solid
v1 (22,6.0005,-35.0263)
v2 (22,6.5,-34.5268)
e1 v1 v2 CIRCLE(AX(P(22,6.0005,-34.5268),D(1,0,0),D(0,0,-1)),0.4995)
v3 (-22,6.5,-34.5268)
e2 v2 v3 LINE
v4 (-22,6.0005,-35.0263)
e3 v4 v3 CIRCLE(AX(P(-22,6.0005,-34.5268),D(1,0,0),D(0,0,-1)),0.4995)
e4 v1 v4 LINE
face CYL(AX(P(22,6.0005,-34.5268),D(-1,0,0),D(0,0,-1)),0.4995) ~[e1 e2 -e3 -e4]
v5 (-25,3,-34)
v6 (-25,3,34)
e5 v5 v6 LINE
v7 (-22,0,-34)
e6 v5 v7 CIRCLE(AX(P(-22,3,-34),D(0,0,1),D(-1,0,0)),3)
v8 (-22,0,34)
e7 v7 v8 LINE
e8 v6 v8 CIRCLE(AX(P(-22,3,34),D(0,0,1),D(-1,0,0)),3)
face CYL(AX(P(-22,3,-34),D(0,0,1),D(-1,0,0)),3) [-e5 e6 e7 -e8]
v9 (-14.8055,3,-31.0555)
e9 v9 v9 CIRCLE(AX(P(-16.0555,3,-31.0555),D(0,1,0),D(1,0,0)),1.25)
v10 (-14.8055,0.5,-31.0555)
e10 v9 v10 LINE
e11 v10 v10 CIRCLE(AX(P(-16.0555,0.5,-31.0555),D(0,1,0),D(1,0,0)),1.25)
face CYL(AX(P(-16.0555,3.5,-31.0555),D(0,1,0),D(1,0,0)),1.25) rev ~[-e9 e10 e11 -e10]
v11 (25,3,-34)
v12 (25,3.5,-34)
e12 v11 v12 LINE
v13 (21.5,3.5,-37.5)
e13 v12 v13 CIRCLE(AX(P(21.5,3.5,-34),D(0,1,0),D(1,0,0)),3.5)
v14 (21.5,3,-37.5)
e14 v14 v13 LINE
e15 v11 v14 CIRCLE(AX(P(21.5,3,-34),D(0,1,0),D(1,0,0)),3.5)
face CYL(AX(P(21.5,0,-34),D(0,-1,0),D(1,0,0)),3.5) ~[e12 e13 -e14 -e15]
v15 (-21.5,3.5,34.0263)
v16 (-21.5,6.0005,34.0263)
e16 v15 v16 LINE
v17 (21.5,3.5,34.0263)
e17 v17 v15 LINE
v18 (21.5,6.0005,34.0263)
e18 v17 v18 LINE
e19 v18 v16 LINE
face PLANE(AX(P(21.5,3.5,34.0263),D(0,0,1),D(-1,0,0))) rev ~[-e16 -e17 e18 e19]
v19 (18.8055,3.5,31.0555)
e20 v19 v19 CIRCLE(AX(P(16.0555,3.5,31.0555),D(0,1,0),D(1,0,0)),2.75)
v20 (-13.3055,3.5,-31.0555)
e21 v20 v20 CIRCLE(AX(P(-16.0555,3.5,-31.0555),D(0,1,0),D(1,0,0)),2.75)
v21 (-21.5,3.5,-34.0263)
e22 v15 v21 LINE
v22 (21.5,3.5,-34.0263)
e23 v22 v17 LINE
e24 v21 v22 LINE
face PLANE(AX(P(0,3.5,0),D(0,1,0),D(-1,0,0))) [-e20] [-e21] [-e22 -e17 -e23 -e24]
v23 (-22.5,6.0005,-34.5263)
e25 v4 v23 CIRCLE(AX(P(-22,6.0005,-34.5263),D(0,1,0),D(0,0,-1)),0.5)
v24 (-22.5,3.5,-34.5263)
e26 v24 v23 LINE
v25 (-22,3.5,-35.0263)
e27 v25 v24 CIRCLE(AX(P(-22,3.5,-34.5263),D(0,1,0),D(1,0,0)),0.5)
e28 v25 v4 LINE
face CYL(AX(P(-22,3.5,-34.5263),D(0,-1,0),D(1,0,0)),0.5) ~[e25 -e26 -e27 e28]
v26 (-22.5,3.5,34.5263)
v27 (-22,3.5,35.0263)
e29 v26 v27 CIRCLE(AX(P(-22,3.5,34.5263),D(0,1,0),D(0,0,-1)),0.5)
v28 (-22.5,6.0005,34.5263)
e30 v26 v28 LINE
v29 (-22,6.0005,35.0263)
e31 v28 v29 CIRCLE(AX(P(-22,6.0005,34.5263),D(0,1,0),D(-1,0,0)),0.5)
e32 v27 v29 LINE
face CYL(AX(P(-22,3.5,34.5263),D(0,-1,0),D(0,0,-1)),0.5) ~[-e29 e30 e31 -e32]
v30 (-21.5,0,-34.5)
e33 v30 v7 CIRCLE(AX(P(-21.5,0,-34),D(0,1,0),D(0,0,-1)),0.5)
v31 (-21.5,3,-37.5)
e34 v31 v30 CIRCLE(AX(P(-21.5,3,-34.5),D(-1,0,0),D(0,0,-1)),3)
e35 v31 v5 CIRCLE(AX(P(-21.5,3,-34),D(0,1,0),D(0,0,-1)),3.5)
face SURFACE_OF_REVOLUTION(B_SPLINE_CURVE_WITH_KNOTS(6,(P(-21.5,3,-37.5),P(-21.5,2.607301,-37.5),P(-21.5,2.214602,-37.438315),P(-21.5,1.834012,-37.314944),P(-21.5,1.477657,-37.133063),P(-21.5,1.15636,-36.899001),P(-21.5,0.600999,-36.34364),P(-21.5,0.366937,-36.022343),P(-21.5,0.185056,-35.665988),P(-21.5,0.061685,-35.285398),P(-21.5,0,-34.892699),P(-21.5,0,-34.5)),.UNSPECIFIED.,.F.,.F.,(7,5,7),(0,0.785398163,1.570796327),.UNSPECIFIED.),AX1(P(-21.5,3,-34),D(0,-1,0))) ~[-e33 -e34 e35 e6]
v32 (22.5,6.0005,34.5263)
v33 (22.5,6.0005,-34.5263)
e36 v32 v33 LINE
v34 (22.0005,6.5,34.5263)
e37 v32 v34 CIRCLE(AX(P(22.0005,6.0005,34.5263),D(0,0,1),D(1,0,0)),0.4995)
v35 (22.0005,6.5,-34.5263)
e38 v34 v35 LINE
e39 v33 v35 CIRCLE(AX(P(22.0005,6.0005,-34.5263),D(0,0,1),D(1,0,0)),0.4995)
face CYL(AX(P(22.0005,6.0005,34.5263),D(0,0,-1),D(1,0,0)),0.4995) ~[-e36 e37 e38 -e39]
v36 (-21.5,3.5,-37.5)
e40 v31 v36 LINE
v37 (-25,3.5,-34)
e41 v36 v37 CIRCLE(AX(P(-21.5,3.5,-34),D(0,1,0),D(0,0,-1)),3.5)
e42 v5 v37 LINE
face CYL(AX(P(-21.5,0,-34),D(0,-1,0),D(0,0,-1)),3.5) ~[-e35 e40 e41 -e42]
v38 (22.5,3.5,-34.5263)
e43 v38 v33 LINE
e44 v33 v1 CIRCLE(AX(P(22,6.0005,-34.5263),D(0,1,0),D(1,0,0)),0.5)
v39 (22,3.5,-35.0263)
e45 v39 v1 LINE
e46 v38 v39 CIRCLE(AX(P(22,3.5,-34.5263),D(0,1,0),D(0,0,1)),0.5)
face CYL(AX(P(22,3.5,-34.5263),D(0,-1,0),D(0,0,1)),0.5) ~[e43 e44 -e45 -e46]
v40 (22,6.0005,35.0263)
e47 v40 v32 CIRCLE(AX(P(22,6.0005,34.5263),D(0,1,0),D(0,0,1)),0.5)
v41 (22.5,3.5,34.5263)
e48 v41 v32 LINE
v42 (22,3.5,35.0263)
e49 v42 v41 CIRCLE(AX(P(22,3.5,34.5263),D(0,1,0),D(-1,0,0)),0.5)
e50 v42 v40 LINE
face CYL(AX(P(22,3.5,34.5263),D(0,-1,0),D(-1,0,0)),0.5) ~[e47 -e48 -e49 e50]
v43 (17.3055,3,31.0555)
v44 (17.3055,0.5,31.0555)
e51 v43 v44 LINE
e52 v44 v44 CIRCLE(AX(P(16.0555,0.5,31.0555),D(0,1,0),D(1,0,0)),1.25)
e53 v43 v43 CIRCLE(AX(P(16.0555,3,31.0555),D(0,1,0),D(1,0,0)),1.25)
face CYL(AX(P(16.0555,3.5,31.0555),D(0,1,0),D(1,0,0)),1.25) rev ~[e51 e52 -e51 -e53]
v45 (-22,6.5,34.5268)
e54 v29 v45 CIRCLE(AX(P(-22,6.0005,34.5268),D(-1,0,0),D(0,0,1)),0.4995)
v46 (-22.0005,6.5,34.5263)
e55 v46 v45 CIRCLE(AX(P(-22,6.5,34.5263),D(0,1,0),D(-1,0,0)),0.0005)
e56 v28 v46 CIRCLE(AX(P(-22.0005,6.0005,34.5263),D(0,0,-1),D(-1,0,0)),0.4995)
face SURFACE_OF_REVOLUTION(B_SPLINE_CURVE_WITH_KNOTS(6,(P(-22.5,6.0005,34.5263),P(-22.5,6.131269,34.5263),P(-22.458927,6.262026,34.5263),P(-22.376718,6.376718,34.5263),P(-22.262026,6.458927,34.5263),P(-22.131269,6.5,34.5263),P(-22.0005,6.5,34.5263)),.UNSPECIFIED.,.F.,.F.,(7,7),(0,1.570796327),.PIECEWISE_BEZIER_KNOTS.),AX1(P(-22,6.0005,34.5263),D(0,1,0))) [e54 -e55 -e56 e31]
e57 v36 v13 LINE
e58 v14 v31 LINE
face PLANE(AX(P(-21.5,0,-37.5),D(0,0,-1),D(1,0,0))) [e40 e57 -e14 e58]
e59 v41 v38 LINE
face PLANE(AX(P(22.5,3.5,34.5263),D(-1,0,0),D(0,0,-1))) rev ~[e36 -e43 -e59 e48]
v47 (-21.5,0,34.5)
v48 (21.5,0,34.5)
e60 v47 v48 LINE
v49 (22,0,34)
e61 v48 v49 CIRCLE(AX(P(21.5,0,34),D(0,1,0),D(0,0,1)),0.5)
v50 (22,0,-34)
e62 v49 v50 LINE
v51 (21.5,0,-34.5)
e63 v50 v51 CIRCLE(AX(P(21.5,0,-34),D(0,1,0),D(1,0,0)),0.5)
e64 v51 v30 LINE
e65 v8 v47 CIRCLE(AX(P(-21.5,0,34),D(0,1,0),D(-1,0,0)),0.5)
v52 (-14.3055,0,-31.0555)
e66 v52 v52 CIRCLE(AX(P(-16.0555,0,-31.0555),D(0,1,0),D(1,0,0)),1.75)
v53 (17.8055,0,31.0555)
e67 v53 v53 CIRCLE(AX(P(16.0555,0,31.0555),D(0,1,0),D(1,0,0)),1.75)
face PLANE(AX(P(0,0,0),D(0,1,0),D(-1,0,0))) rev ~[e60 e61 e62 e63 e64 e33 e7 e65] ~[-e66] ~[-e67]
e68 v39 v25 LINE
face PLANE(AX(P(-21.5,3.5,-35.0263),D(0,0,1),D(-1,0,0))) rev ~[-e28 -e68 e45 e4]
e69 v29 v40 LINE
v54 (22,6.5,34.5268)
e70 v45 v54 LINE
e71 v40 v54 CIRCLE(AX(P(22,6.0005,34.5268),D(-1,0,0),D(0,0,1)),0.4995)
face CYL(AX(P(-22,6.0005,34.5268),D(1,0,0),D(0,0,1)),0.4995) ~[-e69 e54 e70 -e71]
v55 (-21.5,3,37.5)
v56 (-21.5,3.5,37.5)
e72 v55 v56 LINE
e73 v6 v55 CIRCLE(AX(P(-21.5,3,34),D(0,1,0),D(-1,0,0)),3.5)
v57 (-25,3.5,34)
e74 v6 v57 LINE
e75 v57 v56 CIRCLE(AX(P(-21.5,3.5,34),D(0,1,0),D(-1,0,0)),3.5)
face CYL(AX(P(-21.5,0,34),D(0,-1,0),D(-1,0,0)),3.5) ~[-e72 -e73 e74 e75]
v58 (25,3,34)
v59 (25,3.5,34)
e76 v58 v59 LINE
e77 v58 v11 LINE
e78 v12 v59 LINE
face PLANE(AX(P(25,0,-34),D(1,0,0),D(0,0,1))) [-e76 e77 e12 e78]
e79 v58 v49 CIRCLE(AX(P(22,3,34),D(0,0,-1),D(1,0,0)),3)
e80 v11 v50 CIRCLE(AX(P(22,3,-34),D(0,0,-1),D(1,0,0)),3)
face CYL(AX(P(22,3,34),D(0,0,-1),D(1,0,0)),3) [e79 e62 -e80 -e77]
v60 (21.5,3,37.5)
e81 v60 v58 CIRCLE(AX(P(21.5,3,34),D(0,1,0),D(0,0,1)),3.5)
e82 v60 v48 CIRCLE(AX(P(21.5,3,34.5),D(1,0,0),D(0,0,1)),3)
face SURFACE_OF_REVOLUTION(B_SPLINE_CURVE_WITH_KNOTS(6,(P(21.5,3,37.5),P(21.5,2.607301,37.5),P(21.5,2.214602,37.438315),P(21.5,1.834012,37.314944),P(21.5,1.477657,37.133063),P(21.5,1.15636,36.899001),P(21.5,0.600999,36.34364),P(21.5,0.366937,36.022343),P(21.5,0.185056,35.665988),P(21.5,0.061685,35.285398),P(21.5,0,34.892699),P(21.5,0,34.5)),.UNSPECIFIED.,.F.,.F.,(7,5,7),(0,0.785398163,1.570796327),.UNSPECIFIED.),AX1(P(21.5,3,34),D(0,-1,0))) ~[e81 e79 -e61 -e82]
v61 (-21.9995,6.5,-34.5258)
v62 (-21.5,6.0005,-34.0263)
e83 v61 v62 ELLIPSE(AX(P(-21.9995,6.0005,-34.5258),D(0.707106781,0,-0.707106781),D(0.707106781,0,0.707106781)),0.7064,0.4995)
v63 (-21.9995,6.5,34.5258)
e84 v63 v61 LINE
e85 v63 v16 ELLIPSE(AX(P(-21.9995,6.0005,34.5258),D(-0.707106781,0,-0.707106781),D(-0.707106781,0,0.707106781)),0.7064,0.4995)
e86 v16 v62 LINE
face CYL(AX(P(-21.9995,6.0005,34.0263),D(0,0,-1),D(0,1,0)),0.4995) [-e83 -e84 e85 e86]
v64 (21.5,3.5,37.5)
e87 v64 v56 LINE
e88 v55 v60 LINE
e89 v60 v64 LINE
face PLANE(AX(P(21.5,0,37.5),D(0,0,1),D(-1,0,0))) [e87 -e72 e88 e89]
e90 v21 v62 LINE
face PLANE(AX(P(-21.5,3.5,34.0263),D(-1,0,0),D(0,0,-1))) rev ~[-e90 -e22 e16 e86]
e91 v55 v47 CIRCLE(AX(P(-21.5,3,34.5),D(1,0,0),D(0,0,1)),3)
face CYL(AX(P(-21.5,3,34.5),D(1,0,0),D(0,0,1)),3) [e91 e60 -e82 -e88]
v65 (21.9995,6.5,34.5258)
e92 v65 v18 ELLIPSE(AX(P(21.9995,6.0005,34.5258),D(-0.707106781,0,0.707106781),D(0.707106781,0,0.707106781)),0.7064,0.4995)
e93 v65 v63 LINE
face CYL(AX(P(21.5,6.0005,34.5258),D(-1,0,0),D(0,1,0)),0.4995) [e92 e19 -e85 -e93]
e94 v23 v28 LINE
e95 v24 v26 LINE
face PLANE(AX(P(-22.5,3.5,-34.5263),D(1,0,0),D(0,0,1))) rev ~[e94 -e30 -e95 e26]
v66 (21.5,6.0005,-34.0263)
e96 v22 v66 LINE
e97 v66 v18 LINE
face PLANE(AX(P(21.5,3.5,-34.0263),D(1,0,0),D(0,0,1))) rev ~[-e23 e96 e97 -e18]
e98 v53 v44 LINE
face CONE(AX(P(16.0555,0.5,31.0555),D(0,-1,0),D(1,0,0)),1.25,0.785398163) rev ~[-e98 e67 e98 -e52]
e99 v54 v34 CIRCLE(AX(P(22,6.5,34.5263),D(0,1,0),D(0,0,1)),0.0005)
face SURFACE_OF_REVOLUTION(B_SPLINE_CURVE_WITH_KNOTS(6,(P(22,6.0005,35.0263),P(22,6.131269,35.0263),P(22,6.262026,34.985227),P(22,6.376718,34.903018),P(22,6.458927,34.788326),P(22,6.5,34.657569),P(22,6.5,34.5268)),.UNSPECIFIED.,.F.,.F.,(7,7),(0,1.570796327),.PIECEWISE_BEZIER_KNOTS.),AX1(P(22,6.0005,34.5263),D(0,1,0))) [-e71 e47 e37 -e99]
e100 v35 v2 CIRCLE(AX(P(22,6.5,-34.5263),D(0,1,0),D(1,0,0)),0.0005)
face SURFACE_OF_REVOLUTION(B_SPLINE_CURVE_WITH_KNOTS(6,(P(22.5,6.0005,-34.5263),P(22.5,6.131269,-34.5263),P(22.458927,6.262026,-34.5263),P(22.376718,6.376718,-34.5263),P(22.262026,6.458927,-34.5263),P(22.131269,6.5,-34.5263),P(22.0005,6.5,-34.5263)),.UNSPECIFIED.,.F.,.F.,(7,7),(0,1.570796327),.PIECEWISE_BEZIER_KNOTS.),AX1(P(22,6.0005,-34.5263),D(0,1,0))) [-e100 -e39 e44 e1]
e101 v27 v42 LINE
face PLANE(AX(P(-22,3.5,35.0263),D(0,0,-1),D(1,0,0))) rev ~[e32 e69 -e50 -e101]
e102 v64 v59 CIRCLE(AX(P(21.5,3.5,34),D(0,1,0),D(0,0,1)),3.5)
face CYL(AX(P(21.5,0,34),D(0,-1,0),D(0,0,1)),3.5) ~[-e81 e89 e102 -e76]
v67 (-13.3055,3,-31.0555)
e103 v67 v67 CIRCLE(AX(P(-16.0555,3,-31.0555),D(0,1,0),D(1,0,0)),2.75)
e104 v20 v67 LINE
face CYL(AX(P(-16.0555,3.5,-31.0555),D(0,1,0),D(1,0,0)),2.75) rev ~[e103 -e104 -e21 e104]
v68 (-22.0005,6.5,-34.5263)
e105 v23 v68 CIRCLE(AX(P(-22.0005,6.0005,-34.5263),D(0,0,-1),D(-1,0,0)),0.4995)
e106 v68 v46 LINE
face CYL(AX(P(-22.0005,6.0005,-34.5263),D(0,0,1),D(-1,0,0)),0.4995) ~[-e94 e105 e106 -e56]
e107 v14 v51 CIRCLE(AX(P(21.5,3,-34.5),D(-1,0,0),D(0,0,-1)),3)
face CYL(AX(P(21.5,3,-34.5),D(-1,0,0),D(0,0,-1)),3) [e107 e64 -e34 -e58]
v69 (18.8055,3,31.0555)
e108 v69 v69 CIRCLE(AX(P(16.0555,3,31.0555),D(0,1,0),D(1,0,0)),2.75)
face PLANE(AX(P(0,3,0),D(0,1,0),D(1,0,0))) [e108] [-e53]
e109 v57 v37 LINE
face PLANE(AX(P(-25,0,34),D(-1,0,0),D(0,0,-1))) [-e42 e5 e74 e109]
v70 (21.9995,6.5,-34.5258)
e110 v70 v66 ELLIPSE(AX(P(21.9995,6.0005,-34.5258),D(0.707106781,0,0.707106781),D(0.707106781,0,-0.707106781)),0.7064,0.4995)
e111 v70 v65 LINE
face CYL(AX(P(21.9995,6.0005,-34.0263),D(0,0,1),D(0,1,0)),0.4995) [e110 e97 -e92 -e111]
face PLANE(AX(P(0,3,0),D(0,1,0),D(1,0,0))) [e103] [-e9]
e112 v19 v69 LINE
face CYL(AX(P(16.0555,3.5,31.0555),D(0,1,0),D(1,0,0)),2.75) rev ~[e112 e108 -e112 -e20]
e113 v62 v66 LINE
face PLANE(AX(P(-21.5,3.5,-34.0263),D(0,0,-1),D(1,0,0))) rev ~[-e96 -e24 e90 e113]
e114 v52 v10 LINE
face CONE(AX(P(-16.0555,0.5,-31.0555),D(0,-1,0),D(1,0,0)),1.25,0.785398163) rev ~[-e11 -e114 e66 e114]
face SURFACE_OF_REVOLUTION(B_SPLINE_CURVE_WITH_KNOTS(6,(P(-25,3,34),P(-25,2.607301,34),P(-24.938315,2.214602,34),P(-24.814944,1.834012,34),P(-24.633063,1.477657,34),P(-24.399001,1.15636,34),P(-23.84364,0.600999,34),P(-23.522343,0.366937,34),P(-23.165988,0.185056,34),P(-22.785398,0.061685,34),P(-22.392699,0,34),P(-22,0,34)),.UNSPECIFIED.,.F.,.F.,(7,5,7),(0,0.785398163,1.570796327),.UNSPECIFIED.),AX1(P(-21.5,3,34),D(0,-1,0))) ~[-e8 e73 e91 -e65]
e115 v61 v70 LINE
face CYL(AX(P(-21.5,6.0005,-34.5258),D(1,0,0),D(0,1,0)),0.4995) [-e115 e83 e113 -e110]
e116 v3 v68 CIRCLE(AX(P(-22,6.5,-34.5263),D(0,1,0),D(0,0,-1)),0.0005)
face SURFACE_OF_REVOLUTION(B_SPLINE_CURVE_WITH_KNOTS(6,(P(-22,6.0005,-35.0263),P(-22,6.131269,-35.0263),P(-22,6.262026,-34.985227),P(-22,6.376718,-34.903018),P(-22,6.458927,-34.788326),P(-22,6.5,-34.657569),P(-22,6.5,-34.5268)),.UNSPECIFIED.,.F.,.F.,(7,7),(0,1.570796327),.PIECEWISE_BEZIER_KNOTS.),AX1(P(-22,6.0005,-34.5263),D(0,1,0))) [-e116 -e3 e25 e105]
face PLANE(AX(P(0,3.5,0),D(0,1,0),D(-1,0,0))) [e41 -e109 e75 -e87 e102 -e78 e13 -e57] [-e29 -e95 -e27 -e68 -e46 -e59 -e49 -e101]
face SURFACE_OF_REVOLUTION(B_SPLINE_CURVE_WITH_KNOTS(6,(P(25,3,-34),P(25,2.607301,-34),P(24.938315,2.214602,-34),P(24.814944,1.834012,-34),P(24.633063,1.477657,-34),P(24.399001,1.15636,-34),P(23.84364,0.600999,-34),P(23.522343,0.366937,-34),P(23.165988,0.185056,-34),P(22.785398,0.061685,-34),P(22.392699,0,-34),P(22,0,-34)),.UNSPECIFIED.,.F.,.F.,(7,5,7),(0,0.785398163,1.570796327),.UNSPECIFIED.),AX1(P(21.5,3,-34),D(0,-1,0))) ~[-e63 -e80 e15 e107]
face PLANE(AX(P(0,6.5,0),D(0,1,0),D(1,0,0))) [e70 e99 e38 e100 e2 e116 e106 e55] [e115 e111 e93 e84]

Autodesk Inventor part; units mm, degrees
ref_plane "YZ Plane" through (0, 0, 0) normal (1, 0, 0) x (0, 1, 0)
ref_plane "XZ Plane" through (0, 0, 0) normal (0, 1, 0) x (-1, 0, 0)
ref_plane "XY Plane" through (0, 0, 0) normal (0, 0, 1) x (1, 0, 0)
sketch "Sketch1" plane through (0, 0, 0) normal (0, 1, 0) x (-1, 0, 0)
  line L0 (-25, 37.5) -> (25, 37.5)
  line L1 (25, 37.5) -> (25, -37.5)
  line L2 (25, -37.5) -> (-25, -37.5)
  line L3 (-25, -37.5) -> (-25, 37.5)
  line L4 (25, 37.5) -> (-25, -37.5) construction
  line L5 (-22.5, 35) -> (22.5, 35)
  line L6 (22.5, 35) -> (22.5, -35)
  line L7 (22.5, -35) -> (-22.5, -35)
  line L8 (-22.5, -35) -> (-22.5, 35)
  line L9 (22.5, 35) -> (-22.5, -35) construction
  line L10 (22.5, 35) -> (20, 35)
  line L11 (20, 35) -> (20, 32.5)
  line L12 (20, 32.5) -> (22.5, 32.5)
  line L13 (22.5, 32.5) -> (22.5, 35)
  arc A0 (22.5, 32.5) -> (20, 35) centre (20, 32.5) ccw
  line L14 (25, 37.5) -> (21.5, 37.5)
  line L15 (21.5, 37.5) -> (21.5, 34)
  line L16 (21.5, 34) -> (25, 34)
  line L17 (25, 34) -> (25, 37.5)
  line L18 (22.5, -35) -> (20, -35)
  line L19 (20, -35) -> (20, -32.5)
  line L20 (20, -32.5) -> (22.5, -32.5)
  line L21 (22.5, -32.5) -> (22.5, -35)
  line L22 (-22.5, -35) -> (-20, -35)
  line L23 (-20, -35) -> (-20, -32.5)
  line L24 (-20, -32.5) -> (-22.5, -32.5)
  line L25 (-22.5, -32.5) -> (-22.5, -35)
  line L26 (-22.5, 35) -> (-20, 35)
  line L27 (-20, 35) -> (-20, 32.5)
  line L28 (-20, 32.5) -> (-22.5, 32.5)
  line L29 (-22.5, 32.5) -> (-22.5, 35)
  arc A1 (-20, 35) -> (-22.5, 32.5) centre (-20, 32.5) ccw
  arc A2 (-22.5, -32.5) -> (-20, -35) centre (-20, -32.5) ccw
  arc A3 (20, -35) -> (22.5, -32.5) centre (20, -32.5) ccw
  arc A4 (25, 34) -> (21.5, 37.5) centre (21.5, 34) ccw
  line L30 (25, -37.5) -> (21.5, -37.5)
  line L31 (21.5, -37.5) -> (21.5, -34)
  line L32 (21.5, -34) -> (25, -34)
  line L33 (25, -34) -> (25, -37.5)
  line L34 (-25, -37.5) -> (-21.5, -37.5)
  line L35 (-21.5, -37.5) -> (-21.5, -34)
  line L36 (-21.5, -34) -> (-25, -34)
  line L37 (-25, -34) -> (-25, -37.5)
  line L38 (-25, 37.5) -> (-21.5, 37.5)
  line L39 (-21.5, 37.5) -> (-21.5, 34)
  line L40 (-21.5, 34) -> (-25, 34)
  line L41 (-25, 34) -> (-25, 37.5)
  arc A5 (-21.5, 37.5) -> (-25, 34) centre (-21.5, 34) ccw
  arc A6 (-25, -34) -> (-21.5, -37.5) centre (-21.5, -34) ccw
  arc A7 (21.5, -37.5) -> (25, -34) centre (21.5, -34) ccw
  point P0 (0, 0)
  point P1 (25, 34)
  point P2 (-25, -34)
  point P3 (-22.5, -32.5)
  point P4 (-22, -34)
  point P5 (-22.5, -34)
  point P6 (22.5, -32.5)
  dimension "d0" = 50
  dimension "d1" = 75
  dimension "d2" = 45
  dimension "d3" = 70
  dimension "d8" = 2.5
  dimension "d9" = 2.5
extrude "Extrusion3" add sketch "Sketch1" along normal blind 3.5 contours L0 L15 L5 L39 | L39 L5 L8 L40 A5 | L40 L8 L36 L3 | A4 L16 L6 L5 L15 | L39 A1 L40 L8 L5 | L5 A1 L39 | L36 L8 L7 L35 A6 | L40 A1 L8 | L15 A0 L5 | L5 L6 L16 A0 L15 | L1 L32 L6 L16 | L5 L11 L12 L6 L20 L19 L7 L23 L24 L8 L28 L27 | L27 L28 A1 L40 L39 | L39 L40 A1 | L36 A2 L35 L7 L8 | L8 A2 L36 | L35 L7 L31 L2 | A0 L15 L16 L12 L11 | A0 L16 L15 | A7 L31 L7 L6 L32 | L6 A0 L16 | L24 L23 A2 L35 L36 | L36 L35 A2 | L35 A2 L7 | L32 A3 L6 | L6 L7 L31 A3 L32 | L7 A3 L31 | A3 L32 L31 L19 L20 | A3 L31 L32
fillet "Fillet1" radius 3 8 edges at (-23.9749, 0, 36.4749) (0, 0, 37.5) (23.9749, 0, 36.4749) (25, 0, 0) (23.9749, 0, -36.4749) (0, 0, -37.5) (-23.9749, 0, -36.4749) (-25, 0, 0)
sketch "Sketch2" plane through (0, 3.5, 0) normal (0, 1, 0) x (1, 0, 0)
  arc A0 (20, 32.5) -> (17.5, 35) centre (17.5, 32.5) ccw projected
  line L0 (17.5, 35) -> (17.5, 33.5)
  line L1 (20, -32.5) -> (20, 32.5) projected
  line L2 (20, 32.5) -> (18.5, 32.5)
  line L3 (18.5, 32.5) -> (17.5, 33.5)
  line L4 (18, 33) -> (16.0555, 31.0555)
  circle A1 centre (16.0555, 31.0555) radius 2.75
  line L5 (-20, 32.5) -> (-20, -32.5) projected
  line L6 (-20, -32.5) -> (-18.5, -32.5)
  line L7 (-17.5, -35) -> (17.5, -35) projected
  line L8 (-17.5, -35) -> (-17.5, -33.5)
  line L9 (-17.5, -33.5) -> (-18.5, -32.5)
  line L10 (-18, -33) -> (-16.0555, -31.0555)
  line L11 (-18, -33) -> (-15.25, -33) construction
  circle A2 centre (-16.0555, -31.0555) radius 2.75
  arc A3 (17.5812, 28.7675) -> (18.8055, 31.0555) centre (16.0555, 31.0555) ccw construction
  arc A4 (17.8504, 28.3639) -> (19.2906, 31.0555) centre (16.0555, 31.0555) ccw
  arc A5 (17.3121, 29.1712) -> (18.3203, 31.0555) centre (16.0555, 31.0555) ccw
  arc A6 (17.3121, 29.1712) -> (17.8504, 28.3639) centre (17.5812, 28.7675) ccw
  arc A7 (19.2906, 31.0555) -> (18.3203, 31.0555) centre (18.8055, 31.0555) ccw
  arc A8 (14.2605, 33.747) -> (12.8203, 31.0555) centre (16.0555, 31.0555) ccw
  arc A9 (12.8203, 31.0555) -> (13.7906, 31.0555) centre (13.3055, 31.0555) ccw
  arc A10 (14.7989, 32.9398) -> (14.2605, 33.747) centre (14.5297, 33.3434) ccw
  arc A11 (14.7989, 32.9398) -> (13.7906, 31.0555) centre (16.0555, 31.0555) ccw
  arc A12 (-14.2605, -33.747) -> (-12.8203, -31.0555) centre (-16.0555, -31.0555) ccw
  arc A13 (-14.7989, -32.9398) -> (-13.7906, -31.0555) centre (-16.0555, -31.0555) ccw
  arc A14 (-14.7989, -32.9398) -> (-14.2605, -33.747) centre (-14.5297, -33.3434) ccw
  arc A15 (-12.8203, -31.0555) -> (-13.7906, -31.0555) centre (-13.3055, -31.0555) ccw
  arc A16 (-17.8504, -28.3639) -> (-19.2906, -31.0555) centre (-16.0555, -31.0555) ccw
  arc A17 (-19.2906, -31.0555) -> (-18.3203, -31.0555) centre (-18.8055, -31.0555) ccw
  arc A18 (-17.3121, -29.1712) -> (-17.8504, -28.3639) centre (-17.5812, -28.7675) ccw
  arc A19 (-17.3121, -29.1712) -> (-18.3203, -31.0555) centre (-16.0555, -31.0555) ccw
  line L12 (-19.2843, -34.2843) -> (-16.7157, -31.7157) construction
  line L13 (-18.86, -34.7085) -> (-16.2915, -32.14)
  line L14 (-17.14, -31.2915) -> (-19.7085, -33.86)
  arc A20 (-19.7085, -33.86) -> (-18.86, -34.7085) centre (-19.2843, -34.2843) ccw
  arc A21 (-16.2915, -32.14) -> (-17.14, -31.2915) centre (-16.7157, -31.7157) ccw
  line L15 (16.5205, 31.5205) -> (19.4795, 34.4795) construction
  line L16 (16.9448, 31.0962) -> (19.9038, 34.0552)
  line L17 (19.0552, 34.9038) -> (16.0962, 31.9448)
  arc A22 (16.0962, 31.9448) -> (16.9448, 31.0962) centre (16.5205, 31.5205) ccw
  arc A23 (19.9038, 34.0552) -> (19.0552, 34.9038) centre (19.4795, 34.4795) ccw
  circle A24 centre (16.0555, 31.0555) radius 1.25
  circle A25 centre (-16.0555, -31.0555) radius 1.25
  line L18 (21.5, 34.5) -> (-21.5, 34.5) projected
  line L19 (0, 34.5) -> (0, -35)
  circle A26 centre (16.0555, -31.0555) radius 2.75
  circle A27 centre (16.0555, -31.0555) radius 1.25
  circle A28 centre (-16.0555, 31.0555) radius 2.75
  circle A29 centre (-16.0555, 31.0555) radius 1.25
  point P0 (0, 0)
  point P1 (18.3774, 32.5289)
  point P2 (17.5289, 33.3774)
  point P3 (14.9555, 33.5759)
  point P4 (13.3482, 30.5722)
  point P5 (17.1554, 28.535)
  point P6 (18.7627, 31.5387)
  point P7 (-18.3774, -32.5289)
  point P8 (-17.5289, -33.3774)
  point P9 (-14.9555, -33.5759)
  point P10 (-13.3482, -30.5722)
  point P11 (-17.1554, -28.535)
  point P12 (-18.7627, -31.5387)
  dimension "d32" = 5.5
  dimension "d29" = 1.5
  dimension "d30" = 1.5
  dimension "d31" = 2.75
  dimension "d33" = 1.5
  dimension "d34" = 1.5
  dimension "d35" = 2.75
  dimension "d36" = 45
  dimension "d37" = 5.5
  dimension "d40" = 360
  dimension "d44" = 1.2
  dimension "d45" = 1.2
  dimension "d60" = 2.5
  dimension "d61" = 2.5
sketch "Sketch4" plane through (0, 3.5, 0) normal (0, 1, 0) x (1, 0, 0)
  line L0 (-22, 34.5263) -> (22, 34.5263)
  line L1 (22, 34.5263) -> (22, -34.5263)
  line L2 (22, -34.5263) -> (-22, -34.5263)
  line L3 (-22, -34.5263) -> (-22, 34.5263)
  line L4 (-22, 34.5263) -> (22, -34.5263) construction
  line L5 (22, 34.5263) -> (-22, -34.5263) construction
  line L6 (21.5, 34.5) -> (-21.5, 34.5) projected
  line L7 (-21.5, 34.5) -> (-21.5, 37.5) projected
  line L8 (17.5001, 34.5) -> (-21.5, 34.5) construction
  line L9 (22, -34) -> (22, 34) projected
  line L10 (22, 32.5003) -> (22, -34.5263) construction
  arc A0 (21.5, -34.5263) -> (22.5, -34.5263) centre (22, -34.5263) ccw
  line L11 (22, -34.5263) -> (-22, -34.5263) construction
  line L12 (22, -34.0263) -> (-22, -34.0263)
  line L13 (-22, -35.0263) -> (22, -35.0263)
  arc A1 (22, -35.0263) -> (22, -34.0263) centre (22, -34.5263) ccw
  arc A2 (-22, -34.0263) -> (-22, -35.0263) centre (-22, -34.5263) ccw
  line L14 (-22, -34.5263) -> (-22, 34.5263) construction
  line L15 (-21.5, -34.5263) -> (-21.5, 34.5263)
  line L16 (-22.5, 34.5263) -> (-22.5, -34.5263)
  arc A3 (-22.5, -34.5263) -> (-21.5, -34.5263) centre (-22, -34.5263) ccw
  arc A4 (-21.5, 34.5263) -> (-22.5, 34.5263) centre (-22, 34.5263) ccw
  line L17 (22, 34.5263) -> (-22, 34.5263) construction
  line L18 (22, 35.0263) -> (-22, 35.0263)
  line L19 (-22, 34.0263) -> (22, 34.0263)
  arc A5 (22, 34.0263) -> (22, 35.0263) centre (22, 34.5263) ccw
  arc A6 (-22, 35.0263) -> (-22, 34.0263) centre (-22, 34.5263) ccw
  line L20 (22, -34.5263) -> (22, 34.5263) construction
  line L21 (22.5, -34.5263) -> (22.5, 34.5263)
  line L22 (21.5, 34.5263) -> (21.5, -34.5263)
  arc A7 (21.5, -34.5263) -> (22.5, -34.5263) centre (22, -34.5263) ccw
  arc A8 (22.5, 34.5263) -> (21.5, 34.5263) centre (22, 34.5263) ccw
  point P0 (0, 0)
  point P1 (-1.9999, 34.5)
  point P2 (22, -1.013)
  point P3 (0, -34.5263)
  point P4 (-22, 0)
  point P5 (0, 34.5263)
  point P6 (22, 0)
  point P7 (-22.5, -34.5263)
  point P8 (22, -35.0263)
  point P9 (22.5, -34.5263)
  point P10 (22.5, 34.5263)
  point P11 (-21.5, -34.0263)
  point P12 (-21.5, 34.0263)
  point P13 (21.5, 34.0263)
  point P14 (21.5, -34.0263)
  dimension "d68" = 1
  dimension "d69" = 1
  dimension "d70" = 1
  dimension "d71" = 1
  dimension "d72" = 1
extrude "Extrusion11" add sketch "Sketch4" along normal blind 3 contours L3 A6 A4 L0 | L0 L7 L15 L19 L3 | L7 L18 A8 L0 | L0 L22 L6 L7 | A4 L18 L7 | L19 L15 L12 L3 | L3 A2 L16 A6 | A8 A5 L1 L0 | L0 L1 L19 L22 | L6 L22 L19 L15 | L12 L15 L2 L3 | L3 L2 A3 A2 | L12 L22 L2 L15 | L19 L1 L12 L22 | A5 L21 A1 L1 | L2 A0 L13 A3 | L12 L1 L2 L22 | A0 L2 L1 A1
fillet "Fillet2" radius 0.5 12 edges at (-22.3536, 6.5, -34.8799) (-22.5, 6.5, 0) (-22.3536, 6.5, 34.8799) (0, 6.5, 35.0263) (22.3536, 6.5, 34.8799) (22.5, 6.5, 0) (22.3536, 6.5, -34.8799) (0, 6.5, -35.0263) (0, 6.5, -34.0263) (21.5, 6.5, 0) (0, 6.5, 34.0263) (-21.5, 6.5, 0)
extrude "Extrusion12" cut sketch "Sketch2" against normal blind 0.5 contours A26 | A28
sketch "Sketch6" plane through (0, 3.5, 0) normal (0, 1, 0) x (1, 0, 0)
  circle A0 centre (16.0555, -31.0555) radius 1.25 projected
  circle A1 centre (16.0555, -31.0555) radius 1.25
  point P0 (0, 0)
extrude "Extrusion13" cut sketch "Sketch6" against normal blind 5
sketch "Sketch7" plane through (-16.0555, 3.5, -31.0555) normal (0, 1, 0) x (1, 0, 0)
  circle A0 centre (0, 0) radius 1.25
  point P0 (16.0555, -31.0555)
extrude "Extrusion14" cut sketch "Sketch7" against normal blind 5
chamfer "Chamfer2" distance 0.5 angle 45 2 edges at (14.8055, 0, 31.0555) (-17.3055, 0, -31.0555)
properties part number "proper shit spodnji"
